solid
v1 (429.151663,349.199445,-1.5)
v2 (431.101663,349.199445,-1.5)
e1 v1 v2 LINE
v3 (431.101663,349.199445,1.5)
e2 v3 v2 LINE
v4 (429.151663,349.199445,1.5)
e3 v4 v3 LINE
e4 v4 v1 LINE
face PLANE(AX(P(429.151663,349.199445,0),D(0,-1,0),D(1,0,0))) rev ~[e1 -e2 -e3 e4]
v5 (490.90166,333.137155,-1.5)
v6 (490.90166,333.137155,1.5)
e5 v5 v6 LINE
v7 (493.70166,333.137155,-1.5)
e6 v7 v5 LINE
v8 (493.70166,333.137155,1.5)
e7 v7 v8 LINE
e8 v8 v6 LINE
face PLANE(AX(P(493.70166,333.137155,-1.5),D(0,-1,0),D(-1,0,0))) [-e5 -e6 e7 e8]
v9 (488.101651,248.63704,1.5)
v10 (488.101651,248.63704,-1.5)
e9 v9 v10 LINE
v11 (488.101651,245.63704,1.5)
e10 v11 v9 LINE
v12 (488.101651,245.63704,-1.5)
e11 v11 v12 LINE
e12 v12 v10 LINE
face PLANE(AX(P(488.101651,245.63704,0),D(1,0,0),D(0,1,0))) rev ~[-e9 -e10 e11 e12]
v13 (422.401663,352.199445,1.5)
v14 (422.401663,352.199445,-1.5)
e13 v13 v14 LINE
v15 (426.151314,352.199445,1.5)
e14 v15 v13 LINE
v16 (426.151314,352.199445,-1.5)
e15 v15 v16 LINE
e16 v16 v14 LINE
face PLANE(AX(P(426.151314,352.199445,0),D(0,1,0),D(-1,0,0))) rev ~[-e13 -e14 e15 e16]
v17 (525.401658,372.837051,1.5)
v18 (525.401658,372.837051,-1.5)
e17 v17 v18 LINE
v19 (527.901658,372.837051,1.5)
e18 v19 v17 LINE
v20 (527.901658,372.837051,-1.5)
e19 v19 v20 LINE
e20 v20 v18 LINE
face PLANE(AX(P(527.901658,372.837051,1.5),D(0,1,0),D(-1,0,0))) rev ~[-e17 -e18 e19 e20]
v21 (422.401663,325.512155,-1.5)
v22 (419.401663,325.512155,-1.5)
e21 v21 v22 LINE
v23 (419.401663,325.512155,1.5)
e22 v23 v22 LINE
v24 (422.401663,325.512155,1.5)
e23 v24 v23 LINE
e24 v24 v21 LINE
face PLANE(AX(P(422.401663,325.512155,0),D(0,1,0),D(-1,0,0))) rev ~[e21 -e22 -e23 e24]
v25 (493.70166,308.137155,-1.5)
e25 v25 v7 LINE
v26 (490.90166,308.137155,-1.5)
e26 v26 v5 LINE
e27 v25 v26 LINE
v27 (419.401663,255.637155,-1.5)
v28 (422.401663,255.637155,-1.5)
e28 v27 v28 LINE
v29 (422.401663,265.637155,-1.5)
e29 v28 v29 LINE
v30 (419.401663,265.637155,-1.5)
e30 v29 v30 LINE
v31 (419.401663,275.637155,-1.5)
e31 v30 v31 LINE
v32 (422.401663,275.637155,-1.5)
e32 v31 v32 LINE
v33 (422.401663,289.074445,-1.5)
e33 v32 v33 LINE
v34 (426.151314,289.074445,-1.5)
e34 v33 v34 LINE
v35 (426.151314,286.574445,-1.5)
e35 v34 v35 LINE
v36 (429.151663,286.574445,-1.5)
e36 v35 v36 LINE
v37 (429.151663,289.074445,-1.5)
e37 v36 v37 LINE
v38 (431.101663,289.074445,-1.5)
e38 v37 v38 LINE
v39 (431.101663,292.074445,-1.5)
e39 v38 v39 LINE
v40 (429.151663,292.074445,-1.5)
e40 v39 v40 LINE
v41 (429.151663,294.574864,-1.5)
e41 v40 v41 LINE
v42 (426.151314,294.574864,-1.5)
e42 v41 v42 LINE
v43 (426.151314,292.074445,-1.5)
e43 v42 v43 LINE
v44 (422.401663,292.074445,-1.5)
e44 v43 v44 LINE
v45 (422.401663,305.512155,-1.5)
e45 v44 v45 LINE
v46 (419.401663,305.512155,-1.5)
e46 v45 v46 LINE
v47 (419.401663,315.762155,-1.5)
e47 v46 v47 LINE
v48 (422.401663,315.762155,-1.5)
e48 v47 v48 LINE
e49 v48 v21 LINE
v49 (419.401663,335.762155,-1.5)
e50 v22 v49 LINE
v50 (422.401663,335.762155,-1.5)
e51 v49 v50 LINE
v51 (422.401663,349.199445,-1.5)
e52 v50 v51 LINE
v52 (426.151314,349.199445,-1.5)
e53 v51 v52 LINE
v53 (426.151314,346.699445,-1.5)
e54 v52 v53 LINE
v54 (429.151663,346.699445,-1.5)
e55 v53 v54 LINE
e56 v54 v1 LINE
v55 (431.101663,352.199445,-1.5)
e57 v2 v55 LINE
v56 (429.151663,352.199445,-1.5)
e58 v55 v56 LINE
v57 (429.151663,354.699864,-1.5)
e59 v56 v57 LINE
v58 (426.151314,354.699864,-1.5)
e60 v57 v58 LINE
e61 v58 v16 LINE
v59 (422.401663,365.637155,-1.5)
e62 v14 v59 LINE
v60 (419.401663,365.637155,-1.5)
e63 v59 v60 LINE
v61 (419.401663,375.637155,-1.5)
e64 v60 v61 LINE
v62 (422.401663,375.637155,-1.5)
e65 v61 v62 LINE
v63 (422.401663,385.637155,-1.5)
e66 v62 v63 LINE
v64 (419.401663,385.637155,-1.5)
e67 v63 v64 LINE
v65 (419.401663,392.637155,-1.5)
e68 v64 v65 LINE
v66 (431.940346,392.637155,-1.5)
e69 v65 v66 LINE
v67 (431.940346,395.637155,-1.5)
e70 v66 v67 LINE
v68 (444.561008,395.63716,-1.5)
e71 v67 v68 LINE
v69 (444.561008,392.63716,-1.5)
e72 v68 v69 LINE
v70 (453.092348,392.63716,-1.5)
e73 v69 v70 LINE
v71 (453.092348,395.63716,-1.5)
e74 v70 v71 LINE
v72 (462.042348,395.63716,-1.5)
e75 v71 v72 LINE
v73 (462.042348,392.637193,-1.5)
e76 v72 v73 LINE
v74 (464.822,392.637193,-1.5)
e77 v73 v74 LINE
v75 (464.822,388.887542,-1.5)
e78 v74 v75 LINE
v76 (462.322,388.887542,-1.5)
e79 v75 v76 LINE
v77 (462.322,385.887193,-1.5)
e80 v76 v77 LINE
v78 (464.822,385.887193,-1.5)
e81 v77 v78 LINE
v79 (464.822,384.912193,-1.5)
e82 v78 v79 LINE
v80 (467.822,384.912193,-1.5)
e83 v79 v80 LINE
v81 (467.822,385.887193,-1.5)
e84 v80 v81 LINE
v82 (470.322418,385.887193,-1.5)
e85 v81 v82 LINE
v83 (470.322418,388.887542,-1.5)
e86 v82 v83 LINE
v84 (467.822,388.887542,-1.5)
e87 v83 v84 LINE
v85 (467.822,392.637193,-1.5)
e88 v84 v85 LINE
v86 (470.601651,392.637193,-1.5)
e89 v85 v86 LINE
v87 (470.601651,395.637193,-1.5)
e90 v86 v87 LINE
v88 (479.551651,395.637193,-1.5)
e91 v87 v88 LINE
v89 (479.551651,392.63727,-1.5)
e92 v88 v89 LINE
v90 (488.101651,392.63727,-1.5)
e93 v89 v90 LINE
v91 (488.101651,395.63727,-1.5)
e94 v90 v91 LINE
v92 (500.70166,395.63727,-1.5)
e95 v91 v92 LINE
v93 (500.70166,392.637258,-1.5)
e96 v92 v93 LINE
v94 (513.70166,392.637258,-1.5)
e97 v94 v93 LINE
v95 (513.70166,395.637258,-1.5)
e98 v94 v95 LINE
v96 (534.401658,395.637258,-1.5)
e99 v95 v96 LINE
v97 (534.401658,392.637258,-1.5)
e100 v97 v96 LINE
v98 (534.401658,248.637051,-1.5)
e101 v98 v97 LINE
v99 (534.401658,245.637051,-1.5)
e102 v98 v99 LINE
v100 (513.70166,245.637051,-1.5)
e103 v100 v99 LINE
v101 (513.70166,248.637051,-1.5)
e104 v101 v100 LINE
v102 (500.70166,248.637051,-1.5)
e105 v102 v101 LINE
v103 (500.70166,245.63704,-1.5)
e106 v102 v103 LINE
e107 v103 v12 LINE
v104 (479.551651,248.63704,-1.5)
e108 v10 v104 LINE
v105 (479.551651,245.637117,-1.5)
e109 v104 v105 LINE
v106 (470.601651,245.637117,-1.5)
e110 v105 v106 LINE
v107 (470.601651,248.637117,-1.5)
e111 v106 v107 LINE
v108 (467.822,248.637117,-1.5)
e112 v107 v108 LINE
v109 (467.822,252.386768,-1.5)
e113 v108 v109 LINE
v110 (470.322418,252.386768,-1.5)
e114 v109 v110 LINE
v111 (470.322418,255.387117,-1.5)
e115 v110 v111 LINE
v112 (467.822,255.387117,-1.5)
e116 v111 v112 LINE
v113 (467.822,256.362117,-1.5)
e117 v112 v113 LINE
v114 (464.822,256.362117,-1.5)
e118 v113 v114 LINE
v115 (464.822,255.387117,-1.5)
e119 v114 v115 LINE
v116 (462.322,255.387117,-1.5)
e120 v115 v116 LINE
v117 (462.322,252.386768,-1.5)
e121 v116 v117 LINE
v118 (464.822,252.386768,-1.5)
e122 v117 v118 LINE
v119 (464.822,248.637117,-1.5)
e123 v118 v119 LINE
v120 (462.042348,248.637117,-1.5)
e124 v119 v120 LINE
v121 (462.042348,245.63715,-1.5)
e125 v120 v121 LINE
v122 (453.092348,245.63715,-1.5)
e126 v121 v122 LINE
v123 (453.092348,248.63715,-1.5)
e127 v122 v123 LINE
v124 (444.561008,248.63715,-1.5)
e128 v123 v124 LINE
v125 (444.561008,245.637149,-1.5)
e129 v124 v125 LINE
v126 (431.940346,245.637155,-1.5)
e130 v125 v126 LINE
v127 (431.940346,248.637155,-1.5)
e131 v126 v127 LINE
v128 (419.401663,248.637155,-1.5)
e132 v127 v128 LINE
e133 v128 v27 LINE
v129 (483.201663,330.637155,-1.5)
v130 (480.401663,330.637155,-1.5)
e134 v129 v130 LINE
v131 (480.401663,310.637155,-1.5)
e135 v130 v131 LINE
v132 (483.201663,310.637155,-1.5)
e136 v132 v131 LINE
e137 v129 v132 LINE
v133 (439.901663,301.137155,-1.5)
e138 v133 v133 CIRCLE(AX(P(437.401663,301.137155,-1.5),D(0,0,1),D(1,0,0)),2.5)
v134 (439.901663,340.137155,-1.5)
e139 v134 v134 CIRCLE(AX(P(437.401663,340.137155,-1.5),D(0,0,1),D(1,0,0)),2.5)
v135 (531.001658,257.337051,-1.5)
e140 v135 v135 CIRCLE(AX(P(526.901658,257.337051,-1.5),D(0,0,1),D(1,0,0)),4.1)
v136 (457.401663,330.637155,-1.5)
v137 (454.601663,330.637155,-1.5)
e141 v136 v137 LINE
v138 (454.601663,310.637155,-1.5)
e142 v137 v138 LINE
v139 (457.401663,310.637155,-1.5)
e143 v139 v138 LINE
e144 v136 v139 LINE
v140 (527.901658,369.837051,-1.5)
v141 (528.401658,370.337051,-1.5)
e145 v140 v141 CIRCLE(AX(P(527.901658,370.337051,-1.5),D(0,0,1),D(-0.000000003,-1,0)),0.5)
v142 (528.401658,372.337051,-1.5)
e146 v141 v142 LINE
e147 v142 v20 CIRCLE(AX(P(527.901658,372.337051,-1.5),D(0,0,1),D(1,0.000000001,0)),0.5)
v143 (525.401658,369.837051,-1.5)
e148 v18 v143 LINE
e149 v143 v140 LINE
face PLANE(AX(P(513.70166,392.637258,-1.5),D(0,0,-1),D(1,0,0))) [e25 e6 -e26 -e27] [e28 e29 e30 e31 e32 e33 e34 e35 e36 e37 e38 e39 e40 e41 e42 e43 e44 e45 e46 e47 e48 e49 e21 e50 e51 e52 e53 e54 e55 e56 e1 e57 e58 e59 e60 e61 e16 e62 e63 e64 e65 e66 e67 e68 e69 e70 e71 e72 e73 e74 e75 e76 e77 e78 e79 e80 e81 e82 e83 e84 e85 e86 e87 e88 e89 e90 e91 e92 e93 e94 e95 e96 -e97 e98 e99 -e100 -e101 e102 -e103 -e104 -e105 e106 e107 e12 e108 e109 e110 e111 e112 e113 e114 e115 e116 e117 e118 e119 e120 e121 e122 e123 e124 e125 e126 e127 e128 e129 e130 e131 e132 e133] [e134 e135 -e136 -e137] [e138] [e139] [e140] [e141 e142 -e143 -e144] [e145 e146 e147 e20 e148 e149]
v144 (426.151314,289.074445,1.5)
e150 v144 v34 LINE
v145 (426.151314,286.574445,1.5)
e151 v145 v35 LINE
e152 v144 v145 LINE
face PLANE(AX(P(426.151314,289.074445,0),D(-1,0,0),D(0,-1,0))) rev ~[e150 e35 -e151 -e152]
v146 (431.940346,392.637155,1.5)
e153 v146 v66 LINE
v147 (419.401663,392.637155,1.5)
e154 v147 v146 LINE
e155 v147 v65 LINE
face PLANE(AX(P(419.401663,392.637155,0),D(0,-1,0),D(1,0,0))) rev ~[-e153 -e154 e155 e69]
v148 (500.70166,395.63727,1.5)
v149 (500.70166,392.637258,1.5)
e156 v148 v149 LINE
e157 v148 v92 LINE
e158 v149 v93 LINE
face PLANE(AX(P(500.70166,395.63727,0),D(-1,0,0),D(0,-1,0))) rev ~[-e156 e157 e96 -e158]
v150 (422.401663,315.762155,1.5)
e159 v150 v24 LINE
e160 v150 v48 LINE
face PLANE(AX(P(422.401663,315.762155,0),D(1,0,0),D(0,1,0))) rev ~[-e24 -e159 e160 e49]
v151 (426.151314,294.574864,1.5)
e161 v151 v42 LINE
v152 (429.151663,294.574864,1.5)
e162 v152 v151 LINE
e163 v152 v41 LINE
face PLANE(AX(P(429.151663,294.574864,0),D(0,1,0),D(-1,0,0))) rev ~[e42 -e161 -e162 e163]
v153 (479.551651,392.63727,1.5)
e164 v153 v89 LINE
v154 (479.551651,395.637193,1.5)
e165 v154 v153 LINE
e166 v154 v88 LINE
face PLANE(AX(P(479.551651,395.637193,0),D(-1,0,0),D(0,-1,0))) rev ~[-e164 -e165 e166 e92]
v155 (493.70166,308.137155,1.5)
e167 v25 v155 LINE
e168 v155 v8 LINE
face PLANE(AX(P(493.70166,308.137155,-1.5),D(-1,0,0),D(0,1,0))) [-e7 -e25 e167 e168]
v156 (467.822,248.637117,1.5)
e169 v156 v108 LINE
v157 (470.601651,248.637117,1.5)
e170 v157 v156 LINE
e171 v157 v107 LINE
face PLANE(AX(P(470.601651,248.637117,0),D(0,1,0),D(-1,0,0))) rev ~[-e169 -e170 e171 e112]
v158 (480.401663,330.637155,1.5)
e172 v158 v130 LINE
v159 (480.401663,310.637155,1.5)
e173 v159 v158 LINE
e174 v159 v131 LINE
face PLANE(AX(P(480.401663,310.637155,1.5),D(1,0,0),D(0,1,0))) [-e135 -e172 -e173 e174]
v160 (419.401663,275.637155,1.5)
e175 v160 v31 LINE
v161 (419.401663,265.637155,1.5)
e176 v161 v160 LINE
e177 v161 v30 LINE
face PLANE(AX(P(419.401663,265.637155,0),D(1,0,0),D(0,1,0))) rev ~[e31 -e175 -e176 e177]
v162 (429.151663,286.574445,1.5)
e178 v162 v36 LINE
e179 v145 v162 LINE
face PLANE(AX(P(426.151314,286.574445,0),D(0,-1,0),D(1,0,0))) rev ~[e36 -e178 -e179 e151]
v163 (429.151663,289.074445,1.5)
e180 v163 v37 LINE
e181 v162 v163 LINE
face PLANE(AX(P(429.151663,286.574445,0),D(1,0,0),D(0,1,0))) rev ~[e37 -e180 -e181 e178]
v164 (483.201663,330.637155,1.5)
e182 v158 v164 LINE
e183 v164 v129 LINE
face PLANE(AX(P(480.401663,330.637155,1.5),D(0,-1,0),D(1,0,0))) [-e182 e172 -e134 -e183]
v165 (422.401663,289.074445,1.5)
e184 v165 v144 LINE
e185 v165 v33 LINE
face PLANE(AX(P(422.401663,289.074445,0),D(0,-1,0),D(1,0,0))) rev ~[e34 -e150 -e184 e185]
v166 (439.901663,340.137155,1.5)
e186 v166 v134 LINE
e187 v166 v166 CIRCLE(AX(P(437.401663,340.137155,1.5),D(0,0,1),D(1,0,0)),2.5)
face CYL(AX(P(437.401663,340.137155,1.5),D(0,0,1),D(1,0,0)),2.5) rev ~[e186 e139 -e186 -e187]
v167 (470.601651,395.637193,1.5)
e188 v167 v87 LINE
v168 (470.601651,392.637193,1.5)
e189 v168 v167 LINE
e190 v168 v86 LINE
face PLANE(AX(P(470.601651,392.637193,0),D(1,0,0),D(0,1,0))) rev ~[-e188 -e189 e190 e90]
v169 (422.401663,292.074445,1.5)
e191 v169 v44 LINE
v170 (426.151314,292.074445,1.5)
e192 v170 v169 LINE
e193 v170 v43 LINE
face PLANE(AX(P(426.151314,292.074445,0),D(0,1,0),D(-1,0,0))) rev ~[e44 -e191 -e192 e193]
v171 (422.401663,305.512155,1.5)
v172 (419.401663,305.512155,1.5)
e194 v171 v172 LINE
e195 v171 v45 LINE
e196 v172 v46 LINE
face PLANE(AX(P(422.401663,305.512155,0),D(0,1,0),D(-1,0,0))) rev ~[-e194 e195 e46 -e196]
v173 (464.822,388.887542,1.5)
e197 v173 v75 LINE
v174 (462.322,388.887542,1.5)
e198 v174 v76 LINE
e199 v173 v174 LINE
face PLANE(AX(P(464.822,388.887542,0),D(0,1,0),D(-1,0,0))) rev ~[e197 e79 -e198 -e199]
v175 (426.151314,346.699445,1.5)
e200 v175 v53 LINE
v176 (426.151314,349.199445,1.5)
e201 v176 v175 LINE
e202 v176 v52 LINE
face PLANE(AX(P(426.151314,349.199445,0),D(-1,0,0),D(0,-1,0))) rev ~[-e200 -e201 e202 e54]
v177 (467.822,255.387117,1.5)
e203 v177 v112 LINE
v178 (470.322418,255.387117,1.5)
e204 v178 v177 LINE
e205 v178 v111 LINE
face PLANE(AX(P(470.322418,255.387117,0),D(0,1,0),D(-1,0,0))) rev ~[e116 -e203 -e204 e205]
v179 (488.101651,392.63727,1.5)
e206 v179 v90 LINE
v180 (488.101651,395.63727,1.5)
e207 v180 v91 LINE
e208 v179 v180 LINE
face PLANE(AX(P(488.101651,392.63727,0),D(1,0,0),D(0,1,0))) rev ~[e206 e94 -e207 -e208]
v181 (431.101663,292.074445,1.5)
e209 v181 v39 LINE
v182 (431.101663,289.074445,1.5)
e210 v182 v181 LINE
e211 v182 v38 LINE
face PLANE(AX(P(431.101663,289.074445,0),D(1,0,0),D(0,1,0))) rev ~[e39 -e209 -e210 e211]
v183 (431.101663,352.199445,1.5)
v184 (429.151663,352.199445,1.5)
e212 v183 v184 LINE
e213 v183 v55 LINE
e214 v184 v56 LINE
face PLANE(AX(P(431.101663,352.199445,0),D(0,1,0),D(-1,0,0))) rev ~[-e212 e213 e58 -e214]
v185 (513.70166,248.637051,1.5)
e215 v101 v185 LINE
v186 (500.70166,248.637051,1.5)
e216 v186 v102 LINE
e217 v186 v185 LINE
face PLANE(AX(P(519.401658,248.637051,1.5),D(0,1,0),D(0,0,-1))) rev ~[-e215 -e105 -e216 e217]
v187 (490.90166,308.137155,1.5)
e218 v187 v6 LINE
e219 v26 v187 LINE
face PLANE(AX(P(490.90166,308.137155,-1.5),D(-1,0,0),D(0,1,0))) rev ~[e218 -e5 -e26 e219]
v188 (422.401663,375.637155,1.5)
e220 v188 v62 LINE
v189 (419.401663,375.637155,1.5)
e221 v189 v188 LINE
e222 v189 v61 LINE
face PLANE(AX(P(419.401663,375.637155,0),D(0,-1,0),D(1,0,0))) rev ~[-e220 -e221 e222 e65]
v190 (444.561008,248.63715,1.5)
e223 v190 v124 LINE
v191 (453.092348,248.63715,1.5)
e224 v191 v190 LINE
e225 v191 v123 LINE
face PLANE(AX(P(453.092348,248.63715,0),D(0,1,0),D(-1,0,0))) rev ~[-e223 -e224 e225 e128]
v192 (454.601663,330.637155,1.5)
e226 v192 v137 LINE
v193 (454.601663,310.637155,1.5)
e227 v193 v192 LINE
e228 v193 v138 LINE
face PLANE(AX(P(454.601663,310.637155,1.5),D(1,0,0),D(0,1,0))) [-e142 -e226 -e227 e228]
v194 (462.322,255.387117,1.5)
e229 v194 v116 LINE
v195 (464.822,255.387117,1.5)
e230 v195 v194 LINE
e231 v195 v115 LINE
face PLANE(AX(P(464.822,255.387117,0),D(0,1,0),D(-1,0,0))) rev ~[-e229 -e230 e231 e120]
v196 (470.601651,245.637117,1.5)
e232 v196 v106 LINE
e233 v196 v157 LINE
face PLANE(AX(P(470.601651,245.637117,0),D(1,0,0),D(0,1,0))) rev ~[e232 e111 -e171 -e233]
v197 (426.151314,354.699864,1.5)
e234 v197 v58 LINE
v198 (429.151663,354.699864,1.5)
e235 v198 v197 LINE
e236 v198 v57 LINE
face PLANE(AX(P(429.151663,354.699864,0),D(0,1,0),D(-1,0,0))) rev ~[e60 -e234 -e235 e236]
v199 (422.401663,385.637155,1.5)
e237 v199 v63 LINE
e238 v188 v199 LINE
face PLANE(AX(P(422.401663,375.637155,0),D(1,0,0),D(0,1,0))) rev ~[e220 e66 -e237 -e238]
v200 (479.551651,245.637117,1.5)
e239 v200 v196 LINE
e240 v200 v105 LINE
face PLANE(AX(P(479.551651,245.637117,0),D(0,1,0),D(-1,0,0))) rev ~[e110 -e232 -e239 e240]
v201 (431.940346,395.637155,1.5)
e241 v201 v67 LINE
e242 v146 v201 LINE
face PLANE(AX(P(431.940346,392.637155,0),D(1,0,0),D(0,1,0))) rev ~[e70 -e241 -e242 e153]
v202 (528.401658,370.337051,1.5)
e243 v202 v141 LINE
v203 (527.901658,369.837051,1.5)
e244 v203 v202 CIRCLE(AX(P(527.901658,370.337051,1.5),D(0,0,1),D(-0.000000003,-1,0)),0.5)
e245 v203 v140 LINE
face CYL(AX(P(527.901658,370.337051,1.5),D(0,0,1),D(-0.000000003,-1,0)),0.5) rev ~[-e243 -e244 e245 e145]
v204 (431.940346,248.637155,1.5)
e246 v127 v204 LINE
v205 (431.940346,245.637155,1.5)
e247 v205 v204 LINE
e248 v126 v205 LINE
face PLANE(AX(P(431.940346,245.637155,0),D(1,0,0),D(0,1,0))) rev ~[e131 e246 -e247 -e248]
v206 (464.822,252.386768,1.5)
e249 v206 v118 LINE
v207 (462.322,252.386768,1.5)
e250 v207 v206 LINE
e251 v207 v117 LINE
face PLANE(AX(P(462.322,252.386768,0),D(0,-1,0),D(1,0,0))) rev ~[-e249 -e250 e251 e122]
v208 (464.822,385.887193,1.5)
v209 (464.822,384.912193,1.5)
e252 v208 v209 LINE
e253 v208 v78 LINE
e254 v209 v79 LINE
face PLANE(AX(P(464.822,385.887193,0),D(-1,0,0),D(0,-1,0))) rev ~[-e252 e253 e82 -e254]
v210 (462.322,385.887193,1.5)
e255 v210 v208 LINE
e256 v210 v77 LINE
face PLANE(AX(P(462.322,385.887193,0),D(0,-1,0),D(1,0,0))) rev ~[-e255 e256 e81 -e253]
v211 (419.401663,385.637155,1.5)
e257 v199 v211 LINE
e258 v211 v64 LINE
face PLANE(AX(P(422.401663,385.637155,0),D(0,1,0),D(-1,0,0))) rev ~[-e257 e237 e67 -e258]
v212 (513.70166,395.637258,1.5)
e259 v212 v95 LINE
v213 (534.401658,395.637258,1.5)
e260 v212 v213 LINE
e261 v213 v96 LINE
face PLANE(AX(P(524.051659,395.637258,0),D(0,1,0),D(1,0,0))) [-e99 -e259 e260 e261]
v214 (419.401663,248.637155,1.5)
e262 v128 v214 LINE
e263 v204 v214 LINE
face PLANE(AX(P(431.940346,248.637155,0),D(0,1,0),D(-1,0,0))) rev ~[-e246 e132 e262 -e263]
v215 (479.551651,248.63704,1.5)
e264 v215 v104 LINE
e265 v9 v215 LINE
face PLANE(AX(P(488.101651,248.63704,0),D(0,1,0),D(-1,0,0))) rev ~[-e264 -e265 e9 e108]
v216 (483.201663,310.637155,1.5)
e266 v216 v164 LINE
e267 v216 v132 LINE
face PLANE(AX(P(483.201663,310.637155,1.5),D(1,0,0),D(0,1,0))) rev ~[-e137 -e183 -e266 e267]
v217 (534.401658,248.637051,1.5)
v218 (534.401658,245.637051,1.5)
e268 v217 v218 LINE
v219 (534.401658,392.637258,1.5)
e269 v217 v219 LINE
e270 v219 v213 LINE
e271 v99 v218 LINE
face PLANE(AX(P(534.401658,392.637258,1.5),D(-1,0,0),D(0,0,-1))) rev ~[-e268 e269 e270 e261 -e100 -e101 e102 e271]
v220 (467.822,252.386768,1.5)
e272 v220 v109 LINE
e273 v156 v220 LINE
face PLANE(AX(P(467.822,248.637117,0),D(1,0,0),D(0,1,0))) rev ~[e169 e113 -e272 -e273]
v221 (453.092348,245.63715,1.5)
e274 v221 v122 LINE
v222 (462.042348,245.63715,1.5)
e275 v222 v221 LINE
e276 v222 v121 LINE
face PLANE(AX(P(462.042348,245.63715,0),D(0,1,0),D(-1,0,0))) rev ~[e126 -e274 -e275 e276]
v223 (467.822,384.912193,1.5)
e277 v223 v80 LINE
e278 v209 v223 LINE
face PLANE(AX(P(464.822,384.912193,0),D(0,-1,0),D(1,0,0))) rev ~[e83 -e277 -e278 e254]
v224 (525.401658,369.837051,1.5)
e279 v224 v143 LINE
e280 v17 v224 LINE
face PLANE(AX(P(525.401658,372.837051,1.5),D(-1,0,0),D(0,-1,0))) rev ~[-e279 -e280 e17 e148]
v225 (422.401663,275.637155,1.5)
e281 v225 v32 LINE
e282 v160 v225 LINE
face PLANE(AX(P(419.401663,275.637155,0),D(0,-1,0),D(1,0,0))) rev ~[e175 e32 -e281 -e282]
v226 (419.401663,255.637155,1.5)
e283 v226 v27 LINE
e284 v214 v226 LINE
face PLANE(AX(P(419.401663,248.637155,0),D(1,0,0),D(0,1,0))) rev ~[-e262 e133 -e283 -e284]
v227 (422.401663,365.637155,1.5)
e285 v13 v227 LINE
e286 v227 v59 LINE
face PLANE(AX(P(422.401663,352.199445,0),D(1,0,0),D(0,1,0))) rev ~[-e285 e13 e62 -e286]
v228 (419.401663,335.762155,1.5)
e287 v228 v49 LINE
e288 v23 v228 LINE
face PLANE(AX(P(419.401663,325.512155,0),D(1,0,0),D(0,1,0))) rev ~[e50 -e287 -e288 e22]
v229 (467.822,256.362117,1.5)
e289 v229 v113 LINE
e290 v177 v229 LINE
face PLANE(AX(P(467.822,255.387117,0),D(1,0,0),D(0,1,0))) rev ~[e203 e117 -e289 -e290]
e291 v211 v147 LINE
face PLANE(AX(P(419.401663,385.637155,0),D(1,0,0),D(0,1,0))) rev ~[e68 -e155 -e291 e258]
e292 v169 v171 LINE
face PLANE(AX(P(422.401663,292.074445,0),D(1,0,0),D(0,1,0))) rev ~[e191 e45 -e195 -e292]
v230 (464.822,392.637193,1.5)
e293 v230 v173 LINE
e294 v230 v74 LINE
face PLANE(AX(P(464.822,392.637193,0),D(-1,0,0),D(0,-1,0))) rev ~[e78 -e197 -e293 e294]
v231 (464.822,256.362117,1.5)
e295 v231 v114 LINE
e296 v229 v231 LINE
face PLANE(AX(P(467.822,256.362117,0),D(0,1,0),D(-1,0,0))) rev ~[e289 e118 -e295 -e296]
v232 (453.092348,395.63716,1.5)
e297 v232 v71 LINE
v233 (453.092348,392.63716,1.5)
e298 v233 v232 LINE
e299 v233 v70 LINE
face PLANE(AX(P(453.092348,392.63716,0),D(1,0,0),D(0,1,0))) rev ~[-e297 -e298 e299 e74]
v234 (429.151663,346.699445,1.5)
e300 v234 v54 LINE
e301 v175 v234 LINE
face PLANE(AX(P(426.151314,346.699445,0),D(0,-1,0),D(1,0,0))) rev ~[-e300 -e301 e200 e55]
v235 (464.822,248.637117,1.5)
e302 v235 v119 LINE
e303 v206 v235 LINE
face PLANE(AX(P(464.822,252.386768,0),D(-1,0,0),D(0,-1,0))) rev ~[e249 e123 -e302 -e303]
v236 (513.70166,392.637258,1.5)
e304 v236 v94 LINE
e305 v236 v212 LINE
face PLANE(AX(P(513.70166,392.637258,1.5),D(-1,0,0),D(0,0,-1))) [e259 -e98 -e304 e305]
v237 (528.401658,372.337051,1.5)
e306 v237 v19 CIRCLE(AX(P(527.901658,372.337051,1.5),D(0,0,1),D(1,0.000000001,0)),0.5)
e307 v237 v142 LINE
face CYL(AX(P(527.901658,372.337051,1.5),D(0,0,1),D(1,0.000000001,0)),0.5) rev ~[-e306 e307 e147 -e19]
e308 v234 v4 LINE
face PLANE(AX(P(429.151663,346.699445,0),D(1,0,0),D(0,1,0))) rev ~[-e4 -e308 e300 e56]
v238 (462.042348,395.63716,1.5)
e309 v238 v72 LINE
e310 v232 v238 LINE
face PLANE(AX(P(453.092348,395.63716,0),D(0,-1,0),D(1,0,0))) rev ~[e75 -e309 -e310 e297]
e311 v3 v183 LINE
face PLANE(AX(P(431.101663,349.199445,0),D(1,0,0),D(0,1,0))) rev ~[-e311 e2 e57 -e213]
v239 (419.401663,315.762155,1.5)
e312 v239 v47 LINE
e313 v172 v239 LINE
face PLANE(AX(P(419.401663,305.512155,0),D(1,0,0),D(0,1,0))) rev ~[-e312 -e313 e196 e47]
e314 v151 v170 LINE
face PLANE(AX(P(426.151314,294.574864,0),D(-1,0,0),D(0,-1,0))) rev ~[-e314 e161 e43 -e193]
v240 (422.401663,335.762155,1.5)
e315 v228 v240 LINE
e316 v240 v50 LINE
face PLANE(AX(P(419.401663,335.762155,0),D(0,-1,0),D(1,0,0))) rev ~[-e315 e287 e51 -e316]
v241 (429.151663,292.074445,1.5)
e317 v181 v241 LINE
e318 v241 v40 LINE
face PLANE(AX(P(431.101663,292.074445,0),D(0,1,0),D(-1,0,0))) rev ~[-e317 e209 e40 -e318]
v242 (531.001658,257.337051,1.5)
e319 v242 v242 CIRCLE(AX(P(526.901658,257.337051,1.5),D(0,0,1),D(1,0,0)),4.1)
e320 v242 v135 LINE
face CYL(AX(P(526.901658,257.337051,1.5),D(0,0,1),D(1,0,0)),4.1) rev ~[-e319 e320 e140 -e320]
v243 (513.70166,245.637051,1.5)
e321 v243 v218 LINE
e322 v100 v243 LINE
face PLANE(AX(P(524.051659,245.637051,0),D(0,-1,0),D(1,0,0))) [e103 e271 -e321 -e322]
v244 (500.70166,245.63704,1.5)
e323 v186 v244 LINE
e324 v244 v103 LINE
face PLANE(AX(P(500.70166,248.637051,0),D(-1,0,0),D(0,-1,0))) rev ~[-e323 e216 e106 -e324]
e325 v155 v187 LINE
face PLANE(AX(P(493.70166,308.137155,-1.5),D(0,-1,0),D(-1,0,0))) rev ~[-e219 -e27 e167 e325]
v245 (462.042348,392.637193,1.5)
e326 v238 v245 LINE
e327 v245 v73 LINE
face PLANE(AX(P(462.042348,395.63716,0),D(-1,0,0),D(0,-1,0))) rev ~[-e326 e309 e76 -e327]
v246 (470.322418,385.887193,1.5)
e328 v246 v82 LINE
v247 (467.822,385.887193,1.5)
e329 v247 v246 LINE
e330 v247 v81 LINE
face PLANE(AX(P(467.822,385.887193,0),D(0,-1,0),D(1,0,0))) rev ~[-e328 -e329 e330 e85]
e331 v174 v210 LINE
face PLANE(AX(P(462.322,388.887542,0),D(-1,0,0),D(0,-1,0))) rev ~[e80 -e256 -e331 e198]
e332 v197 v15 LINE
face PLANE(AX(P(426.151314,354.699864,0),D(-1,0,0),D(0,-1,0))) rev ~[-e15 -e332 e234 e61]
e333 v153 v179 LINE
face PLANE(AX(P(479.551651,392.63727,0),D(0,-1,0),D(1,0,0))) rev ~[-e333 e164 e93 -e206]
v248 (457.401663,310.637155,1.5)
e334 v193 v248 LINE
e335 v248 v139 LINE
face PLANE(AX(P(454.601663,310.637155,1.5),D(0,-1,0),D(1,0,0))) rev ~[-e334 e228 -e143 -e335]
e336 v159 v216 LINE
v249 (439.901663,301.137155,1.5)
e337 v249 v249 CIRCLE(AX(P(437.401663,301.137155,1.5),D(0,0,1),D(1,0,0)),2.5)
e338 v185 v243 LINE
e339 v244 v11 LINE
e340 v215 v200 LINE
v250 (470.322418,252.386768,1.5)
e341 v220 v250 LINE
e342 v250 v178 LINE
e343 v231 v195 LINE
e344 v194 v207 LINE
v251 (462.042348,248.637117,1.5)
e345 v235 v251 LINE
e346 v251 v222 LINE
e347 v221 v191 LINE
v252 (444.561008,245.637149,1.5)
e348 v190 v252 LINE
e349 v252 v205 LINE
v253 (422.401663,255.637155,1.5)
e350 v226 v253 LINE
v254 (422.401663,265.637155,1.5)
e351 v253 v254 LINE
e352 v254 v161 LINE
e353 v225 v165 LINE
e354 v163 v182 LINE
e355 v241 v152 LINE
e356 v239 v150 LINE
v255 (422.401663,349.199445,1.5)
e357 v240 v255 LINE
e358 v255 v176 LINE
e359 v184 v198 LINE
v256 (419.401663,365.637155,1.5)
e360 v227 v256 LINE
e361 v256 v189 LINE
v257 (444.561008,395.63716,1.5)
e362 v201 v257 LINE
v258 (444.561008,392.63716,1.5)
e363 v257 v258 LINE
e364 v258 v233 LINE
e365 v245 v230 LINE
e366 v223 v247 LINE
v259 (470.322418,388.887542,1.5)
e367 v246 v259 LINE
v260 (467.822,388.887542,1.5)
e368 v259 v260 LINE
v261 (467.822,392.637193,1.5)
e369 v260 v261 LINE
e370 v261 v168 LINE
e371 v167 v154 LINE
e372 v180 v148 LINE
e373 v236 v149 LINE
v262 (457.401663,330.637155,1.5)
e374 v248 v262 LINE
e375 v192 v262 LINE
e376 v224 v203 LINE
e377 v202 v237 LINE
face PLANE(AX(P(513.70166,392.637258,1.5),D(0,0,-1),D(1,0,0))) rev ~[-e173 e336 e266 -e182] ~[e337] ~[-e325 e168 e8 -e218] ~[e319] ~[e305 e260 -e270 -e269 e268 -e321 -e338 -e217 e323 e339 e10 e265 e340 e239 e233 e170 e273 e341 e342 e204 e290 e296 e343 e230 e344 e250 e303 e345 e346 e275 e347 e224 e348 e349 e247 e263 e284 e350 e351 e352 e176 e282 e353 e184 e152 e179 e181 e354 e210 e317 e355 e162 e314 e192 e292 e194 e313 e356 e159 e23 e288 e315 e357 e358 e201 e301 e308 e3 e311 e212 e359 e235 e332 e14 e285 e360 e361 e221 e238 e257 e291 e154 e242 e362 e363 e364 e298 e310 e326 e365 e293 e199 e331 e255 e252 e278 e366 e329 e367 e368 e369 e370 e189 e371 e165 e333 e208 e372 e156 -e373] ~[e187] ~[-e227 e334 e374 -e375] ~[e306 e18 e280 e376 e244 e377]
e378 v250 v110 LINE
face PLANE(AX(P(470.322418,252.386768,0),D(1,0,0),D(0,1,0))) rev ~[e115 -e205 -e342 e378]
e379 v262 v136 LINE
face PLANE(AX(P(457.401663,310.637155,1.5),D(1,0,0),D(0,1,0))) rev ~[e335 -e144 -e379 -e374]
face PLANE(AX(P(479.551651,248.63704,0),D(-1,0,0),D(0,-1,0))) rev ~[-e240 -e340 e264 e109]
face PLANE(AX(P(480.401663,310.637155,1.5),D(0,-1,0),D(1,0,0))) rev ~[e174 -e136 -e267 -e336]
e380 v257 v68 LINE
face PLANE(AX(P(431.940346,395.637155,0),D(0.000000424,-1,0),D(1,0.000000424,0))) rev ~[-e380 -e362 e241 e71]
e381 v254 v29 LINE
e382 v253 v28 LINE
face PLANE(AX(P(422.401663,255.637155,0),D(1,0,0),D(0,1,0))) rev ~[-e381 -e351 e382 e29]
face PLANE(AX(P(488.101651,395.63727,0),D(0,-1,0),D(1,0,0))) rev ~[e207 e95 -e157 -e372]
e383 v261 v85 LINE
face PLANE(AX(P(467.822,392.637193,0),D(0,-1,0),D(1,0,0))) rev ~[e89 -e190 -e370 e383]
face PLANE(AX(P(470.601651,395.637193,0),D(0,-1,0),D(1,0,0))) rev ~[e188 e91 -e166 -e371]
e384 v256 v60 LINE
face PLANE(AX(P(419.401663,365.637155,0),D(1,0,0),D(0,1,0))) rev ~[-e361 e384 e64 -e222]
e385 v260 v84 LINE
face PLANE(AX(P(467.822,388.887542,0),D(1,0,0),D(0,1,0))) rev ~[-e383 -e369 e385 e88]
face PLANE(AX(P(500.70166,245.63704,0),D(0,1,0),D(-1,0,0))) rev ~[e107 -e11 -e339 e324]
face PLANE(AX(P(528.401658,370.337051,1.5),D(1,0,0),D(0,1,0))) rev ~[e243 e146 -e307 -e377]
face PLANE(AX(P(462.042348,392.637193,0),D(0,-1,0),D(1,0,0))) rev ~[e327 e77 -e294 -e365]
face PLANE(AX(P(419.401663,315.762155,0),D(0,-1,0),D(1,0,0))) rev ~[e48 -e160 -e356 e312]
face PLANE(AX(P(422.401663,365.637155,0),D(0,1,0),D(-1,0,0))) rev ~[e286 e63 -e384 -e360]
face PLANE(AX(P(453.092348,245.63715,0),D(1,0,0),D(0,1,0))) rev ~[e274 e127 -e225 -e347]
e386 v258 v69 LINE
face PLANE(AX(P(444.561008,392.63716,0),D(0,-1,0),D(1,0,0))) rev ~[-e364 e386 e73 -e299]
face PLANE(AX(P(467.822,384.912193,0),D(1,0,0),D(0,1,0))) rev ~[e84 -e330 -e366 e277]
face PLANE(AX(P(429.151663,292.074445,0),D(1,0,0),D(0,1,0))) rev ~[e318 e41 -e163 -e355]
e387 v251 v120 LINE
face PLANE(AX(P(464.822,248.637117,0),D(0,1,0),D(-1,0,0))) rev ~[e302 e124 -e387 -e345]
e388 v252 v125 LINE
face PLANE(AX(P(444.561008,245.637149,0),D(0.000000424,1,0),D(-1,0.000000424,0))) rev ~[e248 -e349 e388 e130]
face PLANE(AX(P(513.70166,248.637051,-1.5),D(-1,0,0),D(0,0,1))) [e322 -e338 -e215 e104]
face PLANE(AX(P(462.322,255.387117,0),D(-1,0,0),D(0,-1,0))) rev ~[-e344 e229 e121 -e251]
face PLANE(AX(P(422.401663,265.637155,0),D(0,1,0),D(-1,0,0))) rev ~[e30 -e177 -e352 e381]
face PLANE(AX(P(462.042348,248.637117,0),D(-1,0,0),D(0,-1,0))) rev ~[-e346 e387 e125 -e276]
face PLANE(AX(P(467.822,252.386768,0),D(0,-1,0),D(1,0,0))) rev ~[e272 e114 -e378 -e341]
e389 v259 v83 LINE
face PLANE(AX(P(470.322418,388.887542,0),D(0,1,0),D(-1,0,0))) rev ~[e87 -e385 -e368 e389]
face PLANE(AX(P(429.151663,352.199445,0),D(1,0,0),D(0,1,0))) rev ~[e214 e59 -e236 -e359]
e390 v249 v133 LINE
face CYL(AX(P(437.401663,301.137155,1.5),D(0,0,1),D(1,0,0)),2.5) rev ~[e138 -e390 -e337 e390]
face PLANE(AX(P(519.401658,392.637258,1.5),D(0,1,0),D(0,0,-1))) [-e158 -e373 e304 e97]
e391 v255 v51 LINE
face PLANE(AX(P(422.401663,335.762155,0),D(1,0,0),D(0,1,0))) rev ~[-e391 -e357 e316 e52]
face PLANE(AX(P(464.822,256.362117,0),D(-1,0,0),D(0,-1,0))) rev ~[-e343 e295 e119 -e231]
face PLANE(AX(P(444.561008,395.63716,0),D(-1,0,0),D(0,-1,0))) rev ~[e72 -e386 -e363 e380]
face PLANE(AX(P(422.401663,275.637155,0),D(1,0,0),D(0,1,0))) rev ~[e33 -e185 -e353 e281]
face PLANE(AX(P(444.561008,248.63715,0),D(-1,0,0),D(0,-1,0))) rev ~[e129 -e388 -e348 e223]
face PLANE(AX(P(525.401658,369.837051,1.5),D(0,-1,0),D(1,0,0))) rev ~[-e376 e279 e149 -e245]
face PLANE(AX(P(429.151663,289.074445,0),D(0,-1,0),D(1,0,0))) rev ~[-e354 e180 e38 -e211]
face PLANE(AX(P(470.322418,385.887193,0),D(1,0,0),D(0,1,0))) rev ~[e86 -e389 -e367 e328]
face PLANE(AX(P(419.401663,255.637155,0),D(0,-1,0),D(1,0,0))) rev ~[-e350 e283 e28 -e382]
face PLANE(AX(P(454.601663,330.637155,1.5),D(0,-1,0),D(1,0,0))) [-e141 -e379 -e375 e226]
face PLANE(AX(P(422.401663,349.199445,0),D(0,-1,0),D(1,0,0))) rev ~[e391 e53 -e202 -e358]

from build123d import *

# Parameters (mm, degrees)
SALIENTE_EXTRUIR1_DEPTH = 1.5
CROQUIS2_W              = 2.8
CROQUIS2_H              = 20
CROQUIS2_R              = 2.5
CORTAR_EXTRUIR1_DEPTH   = 11
CROQUIS4_W              = 2.8
CROQUIS4_H              = 25
CORTAR_EXTRUIR3_DEPTH   = 13
CROQUIS5_W              = 3
CROQUIS5_H              = 144.0002072
SALIENTE_EXTRUIR2_DEPTH = 15
CROQUIS6_R              = 4.1
CORTAR_EXTRUIR4_DEPTH   = 15
CROQUIS7_W              = 20.699997517
CROQUIS7_H              = 3
SALIENTE_EXTRUIR3_DEPTH = 3
CROQUIS8_W              = 20.699997553
CROQUIS8_H              = 3
SALIENTE_EXTRUIR4_DEPTH = 3


with BuildPart() as part:
    # Croquis1 → Saliente-Extruir1 (new, symmetric)
    with BuildSketch(Plane.XY):
        Polygon((419.401663173, 255.63715478), (419.401663173, 248.637154823), (431.940346335, 248.637154823), (431.940346335, 245.637154782), (444.561007707, 245.63714943), (444.561007707, 248.637149514), (453.092348458, 248.637149514), (453.092348458, 245.637149514), (462.042348456, 245.637149514), (462.042348456, 248.637116576), (464.821999726, 248.637116576), (464.821999726, 252.386767599), (462.321999727, 252.386767599), (462.321999727, 255.387116575), (464.821999726, 255.387116575), (464.821999726, 256.362116575), (467.821999725, 256.362116575), (467.821999725, 255.387116575), (470.322418497, 255.387116575), (470.322418497, 252.386767599), (467.821999725, 252.386767599), (467.821999725, 248.637116576), (470.601650995, 248.637116576), (470.601650995, 245.637116577), (479.551650993, 245.637116577), (479.551650993, 248.637039563), (488.101650991, 248.637039563), (488.101650991, 245.637039564), (500.701660131, 245.637039564), (500.701660131, 248.637051166), (519.401657648, 248.637051166), (519.401657648, 392.637258366), (500.701660095, 392.637258366), (500.701660095, 395.637269968), (488.101650956, 395.637269968), (488.101650956, 392.637269969), (479.551650957, 392.637269969), (479.551650957, 395.637192955), (470.601650959, 395.637192955), (470.601650959, 392.637192956), (467.82199969, 392.637192956), (467.82199969, 388.887541933), (470.322418461, 388.887541933), (470.322418461, 385.887192957), (467.82199969, 385.887192957), (467.82199969, 384.912192957), (464.82199969, 384.912192957), (464.82199969, 385.887192957), (462.321999691, 385.887192957), (462.321999691, 388.887541933), (464.82199969, 388.887541933), (464.82199969, 392.637192956), (462.04234842, 392.637192956), (462.04234842, 395.637160018), (453.092348422, 395.637160018), (453.092348422, 392.637160018), (444.561007671, 392.637160018), (444.561007671, 395.637160103), (431.9403463, 395.637154751), (431.9403463, 392.637154709), (419.401663173, 392.637154709), (419.401663173, 385.637154752), (422.401663173, 385.637154752), (422.401663173, 375.637154754), (419.401663173, 375.637154754), (419.401663173, 365.637154757), (422.401663173, 365.637154757), (422.401663173, 352.199445373), (426.151314195, 352.199445373), (426.151314195, 354.699864145), (429.151663171, 354.699864145), (429.151663171, 352.199445373), (431.101663171, 352.199445373), (431.101663171, 349.199445374), (429.151663171, 349.199445374), (429.151663171, 346.699445374), (426.151314195, 346.699445374), (426.151314195, 349.199445374), (422.401663173, 349.199445374), (422.401663173, 335.762154763), (419.401663173, 335.762154763), (419.401663173, 325.512154765), (422.401663173, 325.512154765), (422.401663173, 315.762154767), (419.401663173, 315.762154767), (419.401663173, 305.512154769), (422.401663173, 305.512154769), (422.401663173, 292.074445386), (426.151314195, 292.074445386), (426.151314195, 294.574864158), (429.151663171, 294.574864158), (429.151663171, 292.074445386), (431.101663171, 292.074445386), (431.101663171, 289.074445387), (429.151663171, 289.074445387), (429.151663171, 286.574445387), (426.151314195, 286.574445387), (426.151314195, 289.074445387), (422.401663173, 289.074445387), (422.401663173, 275.637154776), (419.401663173, 275.637154776), (419.401663173, 265.637154778), (422.401663173, 265.637154778), (422.401663173, 255.63715478), align=None)
    extrude(amount=SALIENTE_EXTRUIR1_DEPTH, both=True)

    # Croquis2 → Cortar-Extruir1 (cut)
    with BuildSketch(Plane.XY.offset(1.5)):
        with Locations((481.801663173, 320.637154766)):
            Rectangle(CROQUIS2_W, CROQUIS2_H)
        with Locations((456.001663173, 320.637154766)):
            Rectangle(CROQUIS2_W, CROQUIS2_H)
        with Locations((437.401663173, 340.137154766)):
            Circle(CROQUIS2_R)
        with Locations((437.401663173, 301.137154766)):
            Circle(CROQUIS2_R)
    extrude(amount=-CORTAR_EXTRUIR1_DEPTH, mode=Mode.SUBTRACT)

    # Croquis4 → Cortar-Extruir3 (cut)
    with BuildSketch(Plane(origin=(0, 0, -1.5), x_dir=(-1, 0, 0), z_dir=(0, 0, -1))):
        with Locations((-492.30166041, 320.637154766)):
            Rectangle(CROQUIS4_W, CROQUIS4_H)
    extrude(amount=-CORTAR_EXTRUIR3_DEPTH, mode=Mode.SUBTRACT)

    # Croquis5 → Saliente-Extruir2 (add)
    with BuildSketch(Plane(origin=(519.401657648, 0, 0), x_dir=(0, 0, -1), z_dir=(1, 0, 0))):
        with Locations((0, 320.637154766)):
            Rectangle(CROQUIS5_W, CROQUIS5_H)
    extrude(amount=SALIENTE_EXTRUIR2_DEPTH)

    # Croquis6 → Cortar-Extruir4 (cut)
    with BuildSketch(Plane.XY.offset(1.5)):
        with Locations((526.901657648, 257.337051166)):
            Circle(CROQUIS6_R)
        with BuildLine():
            Line((525.401657648, 369.837051166), (527.901657648, 369.837051166))
            ThreePointArc((527.901657648, 369.837051166), (528.255211039, 369.983497775), (528.401657648, 370.337051166))
            Line((528.401657648, 370.337051166), (528.401657648, 372.337051166))
            ThreePointArc((528.401657648, 372.337051166), (528.255211039, 372.690604556), (527.901657648, 372.837051166))
            Line((527.901657648, 372.837051166), (525.401657648, 372.837051166))
            Line((525.401657648, 372.837051166), (525.401657648, 369.837051166))
        make_face()
    extrude(amount=-CORTAR_EXTRUIR4_DEPTH, mode=Mode.SUBTRACT)

    # Croquis7 → Saliente-Extruir3 (add)
    with BuildSketch(Plane.XZ.offset(-248.637051166)):
        with Locations((524.05165889, 0)):
            Rectangle(CROQUIS7_W, CROQUIS7_H)
    extrude(amount=SALIENTE_EXTRUIR3_DEPTH)

    # Croquis8 → Saliente-Extruir4 (add)
    with BuildSketch(Plane(origin=(0, 392.637258366, 0), x_dir=(1, 0, 0), z_dir=(0, 1, 0))):
        with Locations((524.051658872, 0)):
            Rectangle(CROQUIS8_W, CROQUIS8_H)
    extrude(amount=SALIENTE_EXTRUIR4_DEPTH)


solid = part.part
